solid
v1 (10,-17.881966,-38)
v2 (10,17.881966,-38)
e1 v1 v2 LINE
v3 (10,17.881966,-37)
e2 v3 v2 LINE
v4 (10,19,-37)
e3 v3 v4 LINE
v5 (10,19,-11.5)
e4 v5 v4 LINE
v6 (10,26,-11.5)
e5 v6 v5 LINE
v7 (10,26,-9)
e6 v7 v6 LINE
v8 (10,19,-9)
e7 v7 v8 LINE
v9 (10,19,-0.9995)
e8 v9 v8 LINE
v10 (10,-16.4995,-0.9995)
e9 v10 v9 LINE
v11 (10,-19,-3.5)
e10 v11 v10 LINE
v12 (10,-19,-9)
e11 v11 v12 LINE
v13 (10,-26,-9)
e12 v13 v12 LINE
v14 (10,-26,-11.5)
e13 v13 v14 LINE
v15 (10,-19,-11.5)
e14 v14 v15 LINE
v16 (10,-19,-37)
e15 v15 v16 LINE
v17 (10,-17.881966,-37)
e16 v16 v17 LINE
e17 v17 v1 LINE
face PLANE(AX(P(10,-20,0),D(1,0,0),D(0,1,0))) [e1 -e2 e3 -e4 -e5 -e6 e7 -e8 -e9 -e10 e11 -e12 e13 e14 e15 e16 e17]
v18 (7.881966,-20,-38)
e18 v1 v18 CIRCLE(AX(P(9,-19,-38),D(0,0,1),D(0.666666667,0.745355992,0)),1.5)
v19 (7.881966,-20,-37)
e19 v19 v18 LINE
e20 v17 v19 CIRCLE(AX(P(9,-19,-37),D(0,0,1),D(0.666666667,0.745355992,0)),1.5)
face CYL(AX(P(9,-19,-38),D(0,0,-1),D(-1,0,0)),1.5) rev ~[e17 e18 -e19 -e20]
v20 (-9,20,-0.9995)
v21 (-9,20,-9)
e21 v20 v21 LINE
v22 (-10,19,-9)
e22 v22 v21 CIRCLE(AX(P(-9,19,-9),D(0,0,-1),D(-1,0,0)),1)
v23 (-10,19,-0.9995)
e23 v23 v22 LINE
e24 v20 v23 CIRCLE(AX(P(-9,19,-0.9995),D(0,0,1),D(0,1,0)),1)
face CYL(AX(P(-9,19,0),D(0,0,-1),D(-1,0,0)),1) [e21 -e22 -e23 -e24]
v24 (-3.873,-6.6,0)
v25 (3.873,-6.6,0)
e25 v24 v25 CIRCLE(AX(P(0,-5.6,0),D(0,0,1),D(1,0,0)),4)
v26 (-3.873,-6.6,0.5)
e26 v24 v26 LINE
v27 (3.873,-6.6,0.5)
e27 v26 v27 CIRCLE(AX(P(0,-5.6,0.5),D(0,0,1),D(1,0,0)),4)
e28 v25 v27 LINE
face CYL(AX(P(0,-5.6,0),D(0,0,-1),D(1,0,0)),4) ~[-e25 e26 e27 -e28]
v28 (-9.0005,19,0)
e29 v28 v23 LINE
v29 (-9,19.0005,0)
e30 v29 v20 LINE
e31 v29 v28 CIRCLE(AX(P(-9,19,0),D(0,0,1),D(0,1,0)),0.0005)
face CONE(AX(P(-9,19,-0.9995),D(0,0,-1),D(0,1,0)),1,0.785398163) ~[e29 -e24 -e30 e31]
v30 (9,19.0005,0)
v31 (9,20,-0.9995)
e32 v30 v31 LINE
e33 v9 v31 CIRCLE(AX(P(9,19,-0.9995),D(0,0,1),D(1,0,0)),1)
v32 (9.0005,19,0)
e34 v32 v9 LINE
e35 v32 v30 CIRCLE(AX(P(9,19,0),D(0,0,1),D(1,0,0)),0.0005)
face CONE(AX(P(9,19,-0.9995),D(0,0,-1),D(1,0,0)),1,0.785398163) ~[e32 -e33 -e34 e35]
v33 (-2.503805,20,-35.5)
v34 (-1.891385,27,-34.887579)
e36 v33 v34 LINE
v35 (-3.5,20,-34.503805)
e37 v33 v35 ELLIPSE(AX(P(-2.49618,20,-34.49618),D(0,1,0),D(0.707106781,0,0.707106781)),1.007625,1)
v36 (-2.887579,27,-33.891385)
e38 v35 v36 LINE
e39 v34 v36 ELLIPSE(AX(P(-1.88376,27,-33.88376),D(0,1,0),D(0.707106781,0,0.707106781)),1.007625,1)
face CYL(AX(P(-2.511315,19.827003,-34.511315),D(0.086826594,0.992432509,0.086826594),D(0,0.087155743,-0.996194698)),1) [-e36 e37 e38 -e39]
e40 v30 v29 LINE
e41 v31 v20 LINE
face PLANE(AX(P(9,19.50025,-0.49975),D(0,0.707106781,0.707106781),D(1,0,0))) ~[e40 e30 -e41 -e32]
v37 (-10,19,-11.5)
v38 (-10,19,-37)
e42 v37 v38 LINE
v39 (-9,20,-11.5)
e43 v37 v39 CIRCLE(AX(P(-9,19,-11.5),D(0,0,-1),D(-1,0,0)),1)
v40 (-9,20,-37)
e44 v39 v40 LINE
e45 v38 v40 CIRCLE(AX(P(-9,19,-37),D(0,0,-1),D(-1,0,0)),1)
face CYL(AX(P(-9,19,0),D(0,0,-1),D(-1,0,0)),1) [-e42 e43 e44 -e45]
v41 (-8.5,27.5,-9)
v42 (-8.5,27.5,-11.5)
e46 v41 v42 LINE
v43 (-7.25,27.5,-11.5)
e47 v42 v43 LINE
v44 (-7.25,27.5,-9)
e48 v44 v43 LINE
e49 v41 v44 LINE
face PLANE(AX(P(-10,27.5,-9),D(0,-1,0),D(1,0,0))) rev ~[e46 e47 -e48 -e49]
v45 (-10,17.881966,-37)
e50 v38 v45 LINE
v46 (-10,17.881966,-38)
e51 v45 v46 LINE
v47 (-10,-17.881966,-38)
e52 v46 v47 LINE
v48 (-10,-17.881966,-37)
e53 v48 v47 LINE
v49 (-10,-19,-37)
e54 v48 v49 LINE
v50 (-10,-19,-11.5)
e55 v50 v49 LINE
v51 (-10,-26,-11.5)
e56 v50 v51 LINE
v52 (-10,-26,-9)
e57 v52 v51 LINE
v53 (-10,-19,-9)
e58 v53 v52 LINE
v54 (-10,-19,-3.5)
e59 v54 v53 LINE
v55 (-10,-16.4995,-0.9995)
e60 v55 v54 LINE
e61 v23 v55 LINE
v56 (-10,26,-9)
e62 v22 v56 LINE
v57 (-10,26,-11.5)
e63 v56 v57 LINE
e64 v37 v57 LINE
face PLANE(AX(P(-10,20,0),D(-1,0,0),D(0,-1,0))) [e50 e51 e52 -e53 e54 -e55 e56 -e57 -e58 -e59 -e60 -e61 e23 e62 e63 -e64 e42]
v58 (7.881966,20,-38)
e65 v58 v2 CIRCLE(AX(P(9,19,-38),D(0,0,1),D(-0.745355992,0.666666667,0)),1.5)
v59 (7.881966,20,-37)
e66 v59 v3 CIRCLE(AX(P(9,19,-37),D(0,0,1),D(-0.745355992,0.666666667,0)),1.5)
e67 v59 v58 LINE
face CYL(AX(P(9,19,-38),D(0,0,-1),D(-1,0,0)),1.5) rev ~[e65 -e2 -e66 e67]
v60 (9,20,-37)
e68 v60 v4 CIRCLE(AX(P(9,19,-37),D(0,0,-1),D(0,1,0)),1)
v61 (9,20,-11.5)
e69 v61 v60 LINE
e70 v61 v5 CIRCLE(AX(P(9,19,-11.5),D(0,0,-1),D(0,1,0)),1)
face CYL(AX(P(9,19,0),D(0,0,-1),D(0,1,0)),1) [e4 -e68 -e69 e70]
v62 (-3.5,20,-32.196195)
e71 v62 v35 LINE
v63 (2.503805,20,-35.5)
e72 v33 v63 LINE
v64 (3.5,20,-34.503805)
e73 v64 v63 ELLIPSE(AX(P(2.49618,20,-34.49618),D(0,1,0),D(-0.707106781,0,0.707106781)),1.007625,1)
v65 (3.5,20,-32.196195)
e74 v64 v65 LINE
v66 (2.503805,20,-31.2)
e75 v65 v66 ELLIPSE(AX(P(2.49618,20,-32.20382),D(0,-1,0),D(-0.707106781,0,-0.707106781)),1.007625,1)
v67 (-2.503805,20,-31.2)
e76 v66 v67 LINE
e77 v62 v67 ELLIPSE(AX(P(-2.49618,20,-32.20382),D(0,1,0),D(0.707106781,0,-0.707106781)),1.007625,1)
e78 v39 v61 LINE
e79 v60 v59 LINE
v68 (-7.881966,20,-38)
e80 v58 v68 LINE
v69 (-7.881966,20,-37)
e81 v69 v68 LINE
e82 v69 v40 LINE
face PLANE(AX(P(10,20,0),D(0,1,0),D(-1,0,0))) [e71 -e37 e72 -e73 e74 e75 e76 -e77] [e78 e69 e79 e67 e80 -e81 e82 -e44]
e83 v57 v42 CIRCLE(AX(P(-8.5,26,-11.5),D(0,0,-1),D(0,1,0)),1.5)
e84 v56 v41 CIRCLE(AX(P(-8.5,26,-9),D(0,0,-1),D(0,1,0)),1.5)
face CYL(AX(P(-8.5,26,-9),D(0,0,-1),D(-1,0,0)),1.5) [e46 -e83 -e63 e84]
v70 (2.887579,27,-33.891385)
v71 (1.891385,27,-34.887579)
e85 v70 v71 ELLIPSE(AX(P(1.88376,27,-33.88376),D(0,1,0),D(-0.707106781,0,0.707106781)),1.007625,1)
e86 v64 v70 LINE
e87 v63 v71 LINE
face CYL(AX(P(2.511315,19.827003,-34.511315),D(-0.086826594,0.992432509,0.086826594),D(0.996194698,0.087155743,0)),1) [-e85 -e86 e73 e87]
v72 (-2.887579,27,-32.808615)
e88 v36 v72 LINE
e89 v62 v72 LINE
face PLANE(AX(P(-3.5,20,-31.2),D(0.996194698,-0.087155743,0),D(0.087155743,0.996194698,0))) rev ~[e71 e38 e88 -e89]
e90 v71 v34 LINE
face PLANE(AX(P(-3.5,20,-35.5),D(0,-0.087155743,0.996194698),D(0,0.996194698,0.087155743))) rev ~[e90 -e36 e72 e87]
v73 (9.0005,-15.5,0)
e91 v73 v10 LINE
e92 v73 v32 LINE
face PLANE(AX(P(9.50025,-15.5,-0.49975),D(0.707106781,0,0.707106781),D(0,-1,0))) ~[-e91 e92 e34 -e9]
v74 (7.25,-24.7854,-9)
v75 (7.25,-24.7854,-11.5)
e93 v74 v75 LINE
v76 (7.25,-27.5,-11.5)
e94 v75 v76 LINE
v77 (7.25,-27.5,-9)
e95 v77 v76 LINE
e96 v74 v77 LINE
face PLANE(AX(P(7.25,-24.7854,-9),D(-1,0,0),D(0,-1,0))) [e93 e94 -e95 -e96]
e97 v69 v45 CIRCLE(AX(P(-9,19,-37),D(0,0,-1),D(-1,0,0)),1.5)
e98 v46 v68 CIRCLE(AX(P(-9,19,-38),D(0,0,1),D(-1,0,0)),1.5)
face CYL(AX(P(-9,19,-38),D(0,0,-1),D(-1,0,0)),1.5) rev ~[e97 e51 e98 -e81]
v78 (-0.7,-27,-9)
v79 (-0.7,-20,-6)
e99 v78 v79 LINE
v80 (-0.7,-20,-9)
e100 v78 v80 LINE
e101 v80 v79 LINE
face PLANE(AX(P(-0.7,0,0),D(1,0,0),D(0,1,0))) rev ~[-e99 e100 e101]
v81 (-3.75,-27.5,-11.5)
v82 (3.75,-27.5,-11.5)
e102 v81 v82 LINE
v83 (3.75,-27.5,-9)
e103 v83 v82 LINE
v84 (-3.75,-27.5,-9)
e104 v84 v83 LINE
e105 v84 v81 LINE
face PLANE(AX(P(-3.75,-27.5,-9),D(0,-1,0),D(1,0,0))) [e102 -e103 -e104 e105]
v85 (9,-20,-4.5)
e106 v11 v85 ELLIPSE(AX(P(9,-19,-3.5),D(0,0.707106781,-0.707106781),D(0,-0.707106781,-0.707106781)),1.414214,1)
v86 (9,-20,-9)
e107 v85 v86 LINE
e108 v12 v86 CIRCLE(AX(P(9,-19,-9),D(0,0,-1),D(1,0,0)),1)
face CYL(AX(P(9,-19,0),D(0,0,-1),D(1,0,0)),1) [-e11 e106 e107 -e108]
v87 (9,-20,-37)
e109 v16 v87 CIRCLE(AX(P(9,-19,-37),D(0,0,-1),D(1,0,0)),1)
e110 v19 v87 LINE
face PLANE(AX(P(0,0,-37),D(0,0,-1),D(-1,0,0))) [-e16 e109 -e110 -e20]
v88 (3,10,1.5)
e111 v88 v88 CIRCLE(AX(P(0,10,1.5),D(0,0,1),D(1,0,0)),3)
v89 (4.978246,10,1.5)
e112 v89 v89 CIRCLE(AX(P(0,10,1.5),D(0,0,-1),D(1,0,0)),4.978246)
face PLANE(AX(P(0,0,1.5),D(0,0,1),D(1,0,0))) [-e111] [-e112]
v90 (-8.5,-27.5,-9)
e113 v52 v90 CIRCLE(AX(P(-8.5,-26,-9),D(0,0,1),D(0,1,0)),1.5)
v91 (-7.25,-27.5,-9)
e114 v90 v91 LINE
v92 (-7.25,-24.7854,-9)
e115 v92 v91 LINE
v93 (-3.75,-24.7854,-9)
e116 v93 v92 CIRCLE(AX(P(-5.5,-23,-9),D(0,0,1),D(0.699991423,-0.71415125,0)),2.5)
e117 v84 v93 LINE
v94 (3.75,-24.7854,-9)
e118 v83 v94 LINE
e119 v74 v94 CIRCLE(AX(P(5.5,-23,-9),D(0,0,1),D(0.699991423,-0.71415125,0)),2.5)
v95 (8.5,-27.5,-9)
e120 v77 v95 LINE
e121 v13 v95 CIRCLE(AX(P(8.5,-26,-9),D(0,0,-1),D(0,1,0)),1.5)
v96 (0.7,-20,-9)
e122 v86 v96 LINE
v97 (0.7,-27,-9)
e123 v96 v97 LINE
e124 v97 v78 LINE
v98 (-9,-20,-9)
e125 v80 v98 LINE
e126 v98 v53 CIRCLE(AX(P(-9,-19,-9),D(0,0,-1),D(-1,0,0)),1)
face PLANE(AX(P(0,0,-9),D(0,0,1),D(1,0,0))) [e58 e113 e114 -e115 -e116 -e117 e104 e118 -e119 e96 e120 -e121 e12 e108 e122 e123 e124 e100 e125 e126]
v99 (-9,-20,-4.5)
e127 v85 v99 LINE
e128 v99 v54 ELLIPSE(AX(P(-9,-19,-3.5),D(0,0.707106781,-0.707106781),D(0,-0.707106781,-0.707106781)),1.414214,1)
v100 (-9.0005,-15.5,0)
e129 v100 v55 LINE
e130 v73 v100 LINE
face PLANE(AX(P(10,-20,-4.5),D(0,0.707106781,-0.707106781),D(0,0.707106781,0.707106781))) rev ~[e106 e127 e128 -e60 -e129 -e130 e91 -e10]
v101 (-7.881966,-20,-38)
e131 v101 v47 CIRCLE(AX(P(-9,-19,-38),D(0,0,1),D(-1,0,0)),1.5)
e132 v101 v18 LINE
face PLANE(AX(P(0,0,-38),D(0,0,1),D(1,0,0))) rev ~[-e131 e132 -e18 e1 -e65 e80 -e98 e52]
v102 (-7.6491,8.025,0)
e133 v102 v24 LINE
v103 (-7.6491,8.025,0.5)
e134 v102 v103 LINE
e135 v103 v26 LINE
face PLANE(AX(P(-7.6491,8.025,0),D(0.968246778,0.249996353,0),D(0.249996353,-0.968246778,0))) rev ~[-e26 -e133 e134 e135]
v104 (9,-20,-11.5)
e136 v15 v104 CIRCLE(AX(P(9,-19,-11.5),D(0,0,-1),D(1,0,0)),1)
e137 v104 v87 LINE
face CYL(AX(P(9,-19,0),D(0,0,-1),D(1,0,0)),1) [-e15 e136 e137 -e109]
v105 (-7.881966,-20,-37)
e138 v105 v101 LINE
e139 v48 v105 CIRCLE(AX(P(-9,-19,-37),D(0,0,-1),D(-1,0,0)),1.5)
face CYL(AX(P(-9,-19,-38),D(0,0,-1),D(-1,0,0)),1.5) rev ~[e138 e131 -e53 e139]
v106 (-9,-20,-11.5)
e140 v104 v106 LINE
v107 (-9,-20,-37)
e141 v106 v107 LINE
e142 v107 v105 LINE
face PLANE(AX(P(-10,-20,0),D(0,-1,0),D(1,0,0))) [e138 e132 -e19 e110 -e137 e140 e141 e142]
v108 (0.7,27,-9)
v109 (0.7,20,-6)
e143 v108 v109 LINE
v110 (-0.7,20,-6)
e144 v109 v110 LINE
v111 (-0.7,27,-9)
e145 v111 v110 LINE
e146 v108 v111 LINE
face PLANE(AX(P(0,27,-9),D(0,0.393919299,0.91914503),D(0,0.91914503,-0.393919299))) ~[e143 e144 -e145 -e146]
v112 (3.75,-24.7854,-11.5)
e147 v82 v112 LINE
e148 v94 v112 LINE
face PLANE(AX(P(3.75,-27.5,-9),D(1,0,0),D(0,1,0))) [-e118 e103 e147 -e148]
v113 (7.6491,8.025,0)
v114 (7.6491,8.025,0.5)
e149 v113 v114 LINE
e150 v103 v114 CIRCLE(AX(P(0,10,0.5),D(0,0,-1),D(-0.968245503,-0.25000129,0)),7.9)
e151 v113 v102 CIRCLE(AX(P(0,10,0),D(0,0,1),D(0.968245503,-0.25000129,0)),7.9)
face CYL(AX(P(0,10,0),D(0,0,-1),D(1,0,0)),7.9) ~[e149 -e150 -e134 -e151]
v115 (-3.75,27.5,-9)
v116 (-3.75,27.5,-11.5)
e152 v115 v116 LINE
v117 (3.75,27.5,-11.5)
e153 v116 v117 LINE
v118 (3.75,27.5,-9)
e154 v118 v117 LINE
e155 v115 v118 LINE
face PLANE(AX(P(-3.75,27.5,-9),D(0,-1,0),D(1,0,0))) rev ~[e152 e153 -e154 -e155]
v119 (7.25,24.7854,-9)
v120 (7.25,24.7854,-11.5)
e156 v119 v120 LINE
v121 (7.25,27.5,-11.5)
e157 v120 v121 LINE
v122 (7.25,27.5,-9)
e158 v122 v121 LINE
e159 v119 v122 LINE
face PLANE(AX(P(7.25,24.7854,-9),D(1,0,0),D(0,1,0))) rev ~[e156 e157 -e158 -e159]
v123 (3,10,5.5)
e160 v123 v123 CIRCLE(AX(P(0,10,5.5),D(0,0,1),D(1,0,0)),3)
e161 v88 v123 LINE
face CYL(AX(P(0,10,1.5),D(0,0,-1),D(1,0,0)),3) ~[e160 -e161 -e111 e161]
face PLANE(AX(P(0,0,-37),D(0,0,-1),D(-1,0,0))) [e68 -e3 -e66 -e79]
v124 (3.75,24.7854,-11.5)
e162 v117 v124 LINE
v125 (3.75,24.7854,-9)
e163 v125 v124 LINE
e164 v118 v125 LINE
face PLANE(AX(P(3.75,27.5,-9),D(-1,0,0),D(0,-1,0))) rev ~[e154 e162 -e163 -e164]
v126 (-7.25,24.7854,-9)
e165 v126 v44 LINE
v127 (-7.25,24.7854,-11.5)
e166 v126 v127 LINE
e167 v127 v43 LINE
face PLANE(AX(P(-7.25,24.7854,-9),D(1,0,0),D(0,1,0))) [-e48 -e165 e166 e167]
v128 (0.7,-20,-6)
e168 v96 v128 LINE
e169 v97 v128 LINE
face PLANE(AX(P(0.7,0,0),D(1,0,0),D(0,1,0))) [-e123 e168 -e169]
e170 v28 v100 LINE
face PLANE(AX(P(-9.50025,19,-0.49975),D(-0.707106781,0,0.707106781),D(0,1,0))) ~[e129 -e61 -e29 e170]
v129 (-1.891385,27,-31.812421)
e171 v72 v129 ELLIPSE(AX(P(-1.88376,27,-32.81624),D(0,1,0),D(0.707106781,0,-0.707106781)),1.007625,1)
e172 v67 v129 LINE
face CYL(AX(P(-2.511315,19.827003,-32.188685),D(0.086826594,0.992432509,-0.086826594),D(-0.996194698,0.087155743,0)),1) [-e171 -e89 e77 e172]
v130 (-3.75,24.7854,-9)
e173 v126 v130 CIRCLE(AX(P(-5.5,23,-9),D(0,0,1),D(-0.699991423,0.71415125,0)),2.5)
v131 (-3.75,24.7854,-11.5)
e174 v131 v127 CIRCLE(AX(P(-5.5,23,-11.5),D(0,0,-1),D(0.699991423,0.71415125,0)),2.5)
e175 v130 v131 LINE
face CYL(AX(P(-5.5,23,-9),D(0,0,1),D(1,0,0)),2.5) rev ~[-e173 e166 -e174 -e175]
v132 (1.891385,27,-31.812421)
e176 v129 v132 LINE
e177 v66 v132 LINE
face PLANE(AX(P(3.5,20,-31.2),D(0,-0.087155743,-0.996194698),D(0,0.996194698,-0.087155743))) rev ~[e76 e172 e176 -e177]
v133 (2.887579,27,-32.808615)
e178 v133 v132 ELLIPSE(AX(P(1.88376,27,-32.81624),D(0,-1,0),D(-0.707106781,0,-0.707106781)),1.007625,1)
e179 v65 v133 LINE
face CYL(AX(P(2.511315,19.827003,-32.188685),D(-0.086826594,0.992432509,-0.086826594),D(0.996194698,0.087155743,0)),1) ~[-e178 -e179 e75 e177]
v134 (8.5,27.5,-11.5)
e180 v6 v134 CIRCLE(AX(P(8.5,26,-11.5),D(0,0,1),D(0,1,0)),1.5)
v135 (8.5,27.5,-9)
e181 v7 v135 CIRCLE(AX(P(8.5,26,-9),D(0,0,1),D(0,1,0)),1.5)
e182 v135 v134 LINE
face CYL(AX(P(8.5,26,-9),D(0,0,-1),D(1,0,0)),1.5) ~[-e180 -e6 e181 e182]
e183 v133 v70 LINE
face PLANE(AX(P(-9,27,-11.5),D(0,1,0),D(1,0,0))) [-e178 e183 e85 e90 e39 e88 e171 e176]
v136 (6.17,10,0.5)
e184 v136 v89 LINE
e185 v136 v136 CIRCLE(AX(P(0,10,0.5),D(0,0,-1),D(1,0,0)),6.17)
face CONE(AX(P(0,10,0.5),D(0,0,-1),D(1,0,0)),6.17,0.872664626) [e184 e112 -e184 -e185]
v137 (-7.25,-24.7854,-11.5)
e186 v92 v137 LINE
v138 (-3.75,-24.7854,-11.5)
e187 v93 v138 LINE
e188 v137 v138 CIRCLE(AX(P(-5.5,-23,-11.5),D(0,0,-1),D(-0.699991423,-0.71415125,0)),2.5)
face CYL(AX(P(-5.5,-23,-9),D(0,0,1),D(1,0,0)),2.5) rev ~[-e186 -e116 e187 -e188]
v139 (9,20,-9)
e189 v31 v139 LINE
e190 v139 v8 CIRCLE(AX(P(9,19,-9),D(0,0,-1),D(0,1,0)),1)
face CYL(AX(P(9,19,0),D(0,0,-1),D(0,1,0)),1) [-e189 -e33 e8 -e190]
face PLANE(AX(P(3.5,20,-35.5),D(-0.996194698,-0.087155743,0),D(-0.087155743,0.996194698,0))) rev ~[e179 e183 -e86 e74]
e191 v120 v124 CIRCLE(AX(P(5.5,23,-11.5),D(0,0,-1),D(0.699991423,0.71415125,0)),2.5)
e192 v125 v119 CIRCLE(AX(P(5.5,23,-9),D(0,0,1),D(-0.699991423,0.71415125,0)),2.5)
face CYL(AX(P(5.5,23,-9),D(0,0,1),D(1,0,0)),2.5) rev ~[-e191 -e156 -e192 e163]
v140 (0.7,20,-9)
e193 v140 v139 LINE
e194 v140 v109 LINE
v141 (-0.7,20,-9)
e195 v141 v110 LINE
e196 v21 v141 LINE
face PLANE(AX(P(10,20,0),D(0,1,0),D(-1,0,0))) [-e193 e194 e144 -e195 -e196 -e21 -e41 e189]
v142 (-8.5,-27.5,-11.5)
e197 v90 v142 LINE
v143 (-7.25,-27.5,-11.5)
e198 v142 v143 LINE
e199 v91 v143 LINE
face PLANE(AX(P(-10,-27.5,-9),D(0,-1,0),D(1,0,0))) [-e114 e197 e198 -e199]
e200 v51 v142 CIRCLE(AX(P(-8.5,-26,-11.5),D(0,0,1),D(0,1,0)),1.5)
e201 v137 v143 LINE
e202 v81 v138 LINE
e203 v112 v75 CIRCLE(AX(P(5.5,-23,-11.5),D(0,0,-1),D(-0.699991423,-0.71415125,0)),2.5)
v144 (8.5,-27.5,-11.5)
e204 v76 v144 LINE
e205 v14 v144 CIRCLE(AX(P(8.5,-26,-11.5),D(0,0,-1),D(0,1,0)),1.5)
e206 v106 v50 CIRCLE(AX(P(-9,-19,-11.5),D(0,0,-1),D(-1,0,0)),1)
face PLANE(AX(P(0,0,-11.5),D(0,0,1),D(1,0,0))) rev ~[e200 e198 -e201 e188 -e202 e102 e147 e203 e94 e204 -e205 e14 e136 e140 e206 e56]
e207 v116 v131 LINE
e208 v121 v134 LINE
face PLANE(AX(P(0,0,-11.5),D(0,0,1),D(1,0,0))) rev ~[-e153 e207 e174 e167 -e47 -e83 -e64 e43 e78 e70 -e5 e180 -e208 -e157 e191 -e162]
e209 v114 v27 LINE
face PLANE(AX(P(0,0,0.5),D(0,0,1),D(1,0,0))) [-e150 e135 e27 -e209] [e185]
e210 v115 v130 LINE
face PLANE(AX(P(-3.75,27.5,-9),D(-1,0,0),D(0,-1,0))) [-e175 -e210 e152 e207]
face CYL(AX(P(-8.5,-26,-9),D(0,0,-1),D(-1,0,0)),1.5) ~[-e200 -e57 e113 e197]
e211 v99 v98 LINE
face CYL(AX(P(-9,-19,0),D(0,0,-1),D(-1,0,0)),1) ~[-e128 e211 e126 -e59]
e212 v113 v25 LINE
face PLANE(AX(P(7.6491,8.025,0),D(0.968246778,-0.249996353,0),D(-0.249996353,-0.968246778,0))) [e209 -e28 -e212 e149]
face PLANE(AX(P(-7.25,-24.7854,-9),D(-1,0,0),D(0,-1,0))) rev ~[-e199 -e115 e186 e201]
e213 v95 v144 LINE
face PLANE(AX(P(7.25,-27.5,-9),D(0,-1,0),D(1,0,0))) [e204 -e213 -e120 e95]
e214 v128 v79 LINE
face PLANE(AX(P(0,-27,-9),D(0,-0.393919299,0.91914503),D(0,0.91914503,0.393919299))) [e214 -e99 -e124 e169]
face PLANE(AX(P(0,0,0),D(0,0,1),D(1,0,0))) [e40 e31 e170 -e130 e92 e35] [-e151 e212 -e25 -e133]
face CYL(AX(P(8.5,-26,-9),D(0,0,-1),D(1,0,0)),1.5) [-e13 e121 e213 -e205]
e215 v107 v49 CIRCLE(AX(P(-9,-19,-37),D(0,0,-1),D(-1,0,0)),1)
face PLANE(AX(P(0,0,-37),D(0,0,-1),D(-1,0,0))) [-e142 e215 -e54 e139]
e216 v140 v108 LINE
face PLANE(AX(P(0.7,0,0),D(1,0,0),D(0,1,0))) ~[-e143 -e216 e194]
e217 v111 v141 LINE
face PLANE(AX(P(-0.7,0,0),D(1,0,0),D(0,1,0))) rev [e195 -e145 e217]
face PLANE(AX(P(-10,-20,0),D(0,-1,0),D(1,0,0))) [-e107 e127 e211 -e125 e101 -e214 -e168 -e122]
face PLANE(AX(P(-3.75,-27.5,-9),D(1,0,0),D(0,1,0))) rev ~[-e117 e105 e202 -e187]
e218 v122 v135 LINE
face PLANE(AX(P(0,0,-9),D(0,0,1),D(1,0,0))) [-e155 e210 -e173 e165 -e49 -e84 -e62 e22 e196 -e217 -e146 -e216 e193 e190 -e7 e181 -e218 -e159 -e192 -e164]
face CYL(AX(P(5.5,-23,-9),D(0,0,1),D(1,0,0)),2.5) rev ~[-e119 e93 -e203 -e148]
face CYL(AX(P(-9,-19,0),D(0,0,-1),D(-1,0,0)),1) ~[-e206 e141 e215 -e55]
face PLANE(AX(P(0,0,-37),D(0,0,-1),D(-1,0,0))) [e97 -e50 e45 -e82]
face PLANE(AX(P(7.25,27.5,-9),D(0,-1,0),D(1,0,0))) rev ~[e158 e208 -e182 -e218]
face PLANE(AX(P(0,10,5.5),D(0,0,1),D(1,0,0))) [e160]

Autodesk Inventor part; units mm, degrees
ref_plane "YZ Plane" through (0, 0, 0) normal (1, 0, 0) x (0, 1, 0)
ref_plane "XZ Plane" through (0, 0, 0) normal (0, 1, 0) x (-1, 0, 0)
sketch "Sketch1" plane through (0, 0, 0) normal (0, 0, 1) x (1, 0, 0)
  line L0 (-10, -20) -> (10, -20)
  line L1 (10, -20) -> (10, 20)
  line L2 (10, 20) -> (-10, 20)
  line L3 (-10, 20) -> (-10, -20)
  line L4 (-10, -20) -> (10, 20) construction
  line L5 (10, -20) -> (-10, 20) construction
  point P0 (0, 0)
  dimension "d0" = 40
  dimension "d1" = 20
extrude "Extrusion1" add sketch "Sketch1" against normal blind 38
fillet "Fillet2" radius 1 4 edges at (-10, 20, -19) (10, 20, -19) (-10, -20, -19) (10, -20, -19)
ref_plane "Work Plane1" through (0, 0, -9) normal (0, 0, 1) x (1, 0, 0)
sketch "Sketch2" plane through (0, 0, -9) normal (0, 0, 1) x (1, 0, 0)
  line L0 (10, -19) -> (-10, -19)
  line L1 (-10, -19) -> (-10, -27.5)
  line L2 (-10, -27.5) -> (10, -27.5)
  line L3 (10, -27.5) -> (10, -19)
  line L4 (-10, 19) -> (-10, -19) projected
  line L5 (-9, -20) -> (9, -20) projected
  line L6 (10, 19) -> (10, -19) projected
  line L7 (10, 0) -> (-10, 0)
  line L8 (10, 19) -> (-10, 19)
  line L9 (-10, 19) -> (-10, 27.5)
  line L10 (-10, 27.5) -> (10, 27.5)
  line L11 (10, 27.5) -> (10, 19)
  line L12 (10, -23) -> (-10, -23) construction
  line L13 (0, -27.5) -> (0, -20) construction
  circle A0 centre (5.5, -23) radius 2.5
  line L14 (8, -20.5) -> (3, -20.5) construction
  line L15 (3, -20.5) -> (3, -25.5) construction
  line L16 (3, -25.5) -> (8, -25.5) construction
  line L17 (8, -25.5) -> (8, -20.5) construction
  line L18 (8, -20.5) -> (3, -25.5) construction
  line L19 (3, -20.5) -> (8, -25.5) construction
  line L20 (7.25, -27.5) -> (3.75, -27.5)
  line L21 (3.75, -27.5) -> (3.75, -24.7854)
  line L22 (3.75, -24.7854) -> (7.25, -24.7854)
  line L23 (7.25, -24.7854) -> (7.25, -27.5)
  line L24 (5.5, -24.7854) -> (5.5, -23) construction
  circle A1 centre (-5.5, -23) radius 2.5
  line L25 (-3.75, -27.5) -> (-3.75, -24.7854)
  line L26 (-7.25, -24.7854) -> (-7.25, -27.5)
  circle A2 centre (5.5, 23) radius 2.5
  line L27 (3.75, 27.5) -> (3.75, 24.7854)
  line L28 (7.25, 24.7854) -> (7.25, 27.5)
  line L29 (-7.25, 24.7854) -> (-7.25, 27.5)
  line L30 (-3.75, 27.5) -> (-3.75, 24.7854)
  circle A3 centre (-5.5, 23) radius 2.5
  point P0 (0, 0)
  dimension "d8" = 5
  dimension "d7" = 7.5
  dimension "d9" = 2
  dimension "d10" = 2
  dimension "d11" = 3.5
extrude "Extrusion2" add sketch "Sketch2" against normal blind 2.5 contours L3 L2 L23 A0 L21 L25 A1 L26 L1 L0 | L8 L9 L10 L29 A3 L30 L27 A2 L28 L11
fillet "Fillet3" radius 1.5 4 edges at (-10, 27.5, -10.25) (10, 27.5, -10.25) (-10, -27.5, -10.25) (10, -27.5, -10.25)
sketch "Sketch3" plane through (0, 0, -38) normal (0, 0, -1) x (-1, 0, 0)
  arc A0 (-10, -19) -> (-9, -20) centre (-9, -19) ccw projected
  line L0 (-9, -20) -> (9, -20) projected
  arc A1 (9, -20) -> (10, -19) centre (9, -19) ccw projected
  line L1 (10, -19) -> (10, 19) projected
  arc A2 (10, 19) -> (9, 20) centre (9, 19) ccw projected
  line L2 (9, 20) -> (-9, 20) projected
  arc A3 (-9, 20) -> (-10, 19) centre (-9, 19) ccw projected
  line L3 (-10, 19) -> (-10, -19) projected
  circle A4 centre (9, 19) radius 1.5
  circle A5 centre (-9, 19) radius 1.5
  circle A6 centre (9, -19) radius 1.5
  circle A7 centre (-9, -19) radius 1.5
  point P0 (0, 0)
  dimension "d15" = 3
extrude "Extrusion3" cut sketch "Sketch3" against normal blind 1 contours L3 A7 L0 A0 | A0 L0 A7 L3 | A5 L2 A3 L3 | L3 A3 L2 A5 | A6 L1 A1 L0 | L0 A1 L1 A6 | A4 L1 A2 L2 | L2 A2 L1 A4
sketch "Sketch4" plane through (10, -19, 0) normal (1, 0, 0) x (0, 0, -1)
  line L0 (9, 0) -> (9, -7) projected
  line L1 (9, 39) -> (9, 38) projected
  line L2 (9, 0) -> (9, 38) construction
  line L3 (9, -1) -> (0, -1) projected
  line L4 (4.5, -1) -> (0, 3.5)
  line L5 (0, 0) -> (0, 38) projected
  line L6 (0, -1) -> (0, 0) projected
  point P0 (0, 19)
  dimension "d18" = 4.5
  dimension "d19" = 4.5
extrude "Extrusion4" cut sketch "Sketch4" against normal through all
sketch "Sketch5" plane through (0, 0, 0) normal (0, 0, 1) x (1, 0, 0)
  circle A0 centre (0, 10) radius 7.9
  line L0 (10, -15.5) -> (10, 19) projected
  line L1 (-10, 19) -> (-10, -15.5) projected
  line L2 (9, 20) -> (-9, 20) projected
  line L3 (0, 17.9) -> (0, -5.6)
  circle A1 centre (0, -5.6) radius 4
  line L4 (7.6491, 8.025) -> (3.873, -6.6)
  line L5 (-7.6491, 8.025) -> (-3.873, -6.6)
  point P0 (0, 0)
  dimension "d22" = 15.8
  dimension "d23" = 10
  dimension "d24" = 10
  dimension "d25" = 10
  dimension "d26" = 23.5
  dimension "d27" = 8
extrude "Extrusion5" add sketch "Sketch5" along normal blind 0.5
sketch "Sketch6" plane through (0, 0, 0.5) normal (0, 0, 1) x (1, 0, 0)
  arc A0 (7.6491, 8.025) -> (-7.6491, 8.025) centre (0, 10) ccw projected
  circle A1 centre (0, 10) radius 6.17
  point P0 (0, 0)
  dimension "d30" = 12.34
extrude "Extrusion6" add sketch "Sketch6" along normal blind 1 draft -50
sketch "Sketch7" plane through (0, 10, 1.5) normal (0, 0, 1) x (1, 0, 0)
  circle A0 centre (0, 0) radius 4.9782 projected
  circle A1 centre (0, 0) radius 3
  point P0 (0, -10)
  dimension "d33" = 6
extrude "Extrusion7" add sketch "Sketch7" along normal blind 4 contours A1
sketch "Sketch8" plane through (0, 0, 0) normal (1, 0, 0) x (0, 1, 0)
  line L0 (-24.7854, -9) -> (-27.5, -9) projected
  line L1 (-27, -9) -> (-20, -6)
  line L2 (-20, -9) -> (-20, -4.5) projected
  line L3 (-20, -9) -> (-20, -6)
  line L4 (-20, -9) -> (-27, -9)
  point P0 (0, 0)
  dimension "d36" = 3
  dimension "d37" = 7
extrude "Extrusion8" add sketch "Sketch8" along normal mid plane 1.4
mirror "Mirror1" about plane through (0, 0, 0) normal (0, 1, 0) of "Extrusion8"
sketch "Sketch9" plane through (-9, 20, -11.5) normal (0, 1, 0) x (1, 0, 0)
  line L0 (5.25, 0) -> (12.75, 0) projected
  line L1 (9, 0) -> (9, 26.5) construction
  line L2 (1.118, 26.5) -> (16.882, 26.5) projected
  line L3 (12.5, 19.7) -> (5.5, 19.7)
  line L4 (5.5, 19.7) -> (5.5, 24)
  line L5 (5.5, 24) -> (12.5, 24)
  line L6 (12.5, 24) -> (12.5, 19.7)
  line L7 (12.5, 19.7) -> (5.5, 24) construction
  line L8 (5.5, 19.7) -> (12.5, 24) construction
  point P0 (9, -11.5)
  point P1 (9, 21.85)
  dimension "d40" = 2.5
  dimension "d41" = 7
  dimension "d42" = 4.3
extrude "Extrusion9" add sketch "Sketch9" along normal blind 7 draft -5
fillet "Fillet4" radius 1 4 edges at (3.1938, 23.5, -31.5062) (3.1938, 23.5, -35.1938) (-3.1938, 23.5, -31.5062) (-3.1938, 23.5, -35.1938)
chamfer "Chamfer1" distance 1 angle 45 5 edges at (0, 20, 0) (-9.7071, 19.7071, 0) (-10, 1.75, 0) (9.7071, 19.7071, 0) (10, 1.75, 0)
equation "\"d10\" = d9"
equation "\"d19\" = d18"
equation "\"d24\" = d23"
equation "\"d25\" = d23"
properties part number "DatanS1213AnalogFeedback"
